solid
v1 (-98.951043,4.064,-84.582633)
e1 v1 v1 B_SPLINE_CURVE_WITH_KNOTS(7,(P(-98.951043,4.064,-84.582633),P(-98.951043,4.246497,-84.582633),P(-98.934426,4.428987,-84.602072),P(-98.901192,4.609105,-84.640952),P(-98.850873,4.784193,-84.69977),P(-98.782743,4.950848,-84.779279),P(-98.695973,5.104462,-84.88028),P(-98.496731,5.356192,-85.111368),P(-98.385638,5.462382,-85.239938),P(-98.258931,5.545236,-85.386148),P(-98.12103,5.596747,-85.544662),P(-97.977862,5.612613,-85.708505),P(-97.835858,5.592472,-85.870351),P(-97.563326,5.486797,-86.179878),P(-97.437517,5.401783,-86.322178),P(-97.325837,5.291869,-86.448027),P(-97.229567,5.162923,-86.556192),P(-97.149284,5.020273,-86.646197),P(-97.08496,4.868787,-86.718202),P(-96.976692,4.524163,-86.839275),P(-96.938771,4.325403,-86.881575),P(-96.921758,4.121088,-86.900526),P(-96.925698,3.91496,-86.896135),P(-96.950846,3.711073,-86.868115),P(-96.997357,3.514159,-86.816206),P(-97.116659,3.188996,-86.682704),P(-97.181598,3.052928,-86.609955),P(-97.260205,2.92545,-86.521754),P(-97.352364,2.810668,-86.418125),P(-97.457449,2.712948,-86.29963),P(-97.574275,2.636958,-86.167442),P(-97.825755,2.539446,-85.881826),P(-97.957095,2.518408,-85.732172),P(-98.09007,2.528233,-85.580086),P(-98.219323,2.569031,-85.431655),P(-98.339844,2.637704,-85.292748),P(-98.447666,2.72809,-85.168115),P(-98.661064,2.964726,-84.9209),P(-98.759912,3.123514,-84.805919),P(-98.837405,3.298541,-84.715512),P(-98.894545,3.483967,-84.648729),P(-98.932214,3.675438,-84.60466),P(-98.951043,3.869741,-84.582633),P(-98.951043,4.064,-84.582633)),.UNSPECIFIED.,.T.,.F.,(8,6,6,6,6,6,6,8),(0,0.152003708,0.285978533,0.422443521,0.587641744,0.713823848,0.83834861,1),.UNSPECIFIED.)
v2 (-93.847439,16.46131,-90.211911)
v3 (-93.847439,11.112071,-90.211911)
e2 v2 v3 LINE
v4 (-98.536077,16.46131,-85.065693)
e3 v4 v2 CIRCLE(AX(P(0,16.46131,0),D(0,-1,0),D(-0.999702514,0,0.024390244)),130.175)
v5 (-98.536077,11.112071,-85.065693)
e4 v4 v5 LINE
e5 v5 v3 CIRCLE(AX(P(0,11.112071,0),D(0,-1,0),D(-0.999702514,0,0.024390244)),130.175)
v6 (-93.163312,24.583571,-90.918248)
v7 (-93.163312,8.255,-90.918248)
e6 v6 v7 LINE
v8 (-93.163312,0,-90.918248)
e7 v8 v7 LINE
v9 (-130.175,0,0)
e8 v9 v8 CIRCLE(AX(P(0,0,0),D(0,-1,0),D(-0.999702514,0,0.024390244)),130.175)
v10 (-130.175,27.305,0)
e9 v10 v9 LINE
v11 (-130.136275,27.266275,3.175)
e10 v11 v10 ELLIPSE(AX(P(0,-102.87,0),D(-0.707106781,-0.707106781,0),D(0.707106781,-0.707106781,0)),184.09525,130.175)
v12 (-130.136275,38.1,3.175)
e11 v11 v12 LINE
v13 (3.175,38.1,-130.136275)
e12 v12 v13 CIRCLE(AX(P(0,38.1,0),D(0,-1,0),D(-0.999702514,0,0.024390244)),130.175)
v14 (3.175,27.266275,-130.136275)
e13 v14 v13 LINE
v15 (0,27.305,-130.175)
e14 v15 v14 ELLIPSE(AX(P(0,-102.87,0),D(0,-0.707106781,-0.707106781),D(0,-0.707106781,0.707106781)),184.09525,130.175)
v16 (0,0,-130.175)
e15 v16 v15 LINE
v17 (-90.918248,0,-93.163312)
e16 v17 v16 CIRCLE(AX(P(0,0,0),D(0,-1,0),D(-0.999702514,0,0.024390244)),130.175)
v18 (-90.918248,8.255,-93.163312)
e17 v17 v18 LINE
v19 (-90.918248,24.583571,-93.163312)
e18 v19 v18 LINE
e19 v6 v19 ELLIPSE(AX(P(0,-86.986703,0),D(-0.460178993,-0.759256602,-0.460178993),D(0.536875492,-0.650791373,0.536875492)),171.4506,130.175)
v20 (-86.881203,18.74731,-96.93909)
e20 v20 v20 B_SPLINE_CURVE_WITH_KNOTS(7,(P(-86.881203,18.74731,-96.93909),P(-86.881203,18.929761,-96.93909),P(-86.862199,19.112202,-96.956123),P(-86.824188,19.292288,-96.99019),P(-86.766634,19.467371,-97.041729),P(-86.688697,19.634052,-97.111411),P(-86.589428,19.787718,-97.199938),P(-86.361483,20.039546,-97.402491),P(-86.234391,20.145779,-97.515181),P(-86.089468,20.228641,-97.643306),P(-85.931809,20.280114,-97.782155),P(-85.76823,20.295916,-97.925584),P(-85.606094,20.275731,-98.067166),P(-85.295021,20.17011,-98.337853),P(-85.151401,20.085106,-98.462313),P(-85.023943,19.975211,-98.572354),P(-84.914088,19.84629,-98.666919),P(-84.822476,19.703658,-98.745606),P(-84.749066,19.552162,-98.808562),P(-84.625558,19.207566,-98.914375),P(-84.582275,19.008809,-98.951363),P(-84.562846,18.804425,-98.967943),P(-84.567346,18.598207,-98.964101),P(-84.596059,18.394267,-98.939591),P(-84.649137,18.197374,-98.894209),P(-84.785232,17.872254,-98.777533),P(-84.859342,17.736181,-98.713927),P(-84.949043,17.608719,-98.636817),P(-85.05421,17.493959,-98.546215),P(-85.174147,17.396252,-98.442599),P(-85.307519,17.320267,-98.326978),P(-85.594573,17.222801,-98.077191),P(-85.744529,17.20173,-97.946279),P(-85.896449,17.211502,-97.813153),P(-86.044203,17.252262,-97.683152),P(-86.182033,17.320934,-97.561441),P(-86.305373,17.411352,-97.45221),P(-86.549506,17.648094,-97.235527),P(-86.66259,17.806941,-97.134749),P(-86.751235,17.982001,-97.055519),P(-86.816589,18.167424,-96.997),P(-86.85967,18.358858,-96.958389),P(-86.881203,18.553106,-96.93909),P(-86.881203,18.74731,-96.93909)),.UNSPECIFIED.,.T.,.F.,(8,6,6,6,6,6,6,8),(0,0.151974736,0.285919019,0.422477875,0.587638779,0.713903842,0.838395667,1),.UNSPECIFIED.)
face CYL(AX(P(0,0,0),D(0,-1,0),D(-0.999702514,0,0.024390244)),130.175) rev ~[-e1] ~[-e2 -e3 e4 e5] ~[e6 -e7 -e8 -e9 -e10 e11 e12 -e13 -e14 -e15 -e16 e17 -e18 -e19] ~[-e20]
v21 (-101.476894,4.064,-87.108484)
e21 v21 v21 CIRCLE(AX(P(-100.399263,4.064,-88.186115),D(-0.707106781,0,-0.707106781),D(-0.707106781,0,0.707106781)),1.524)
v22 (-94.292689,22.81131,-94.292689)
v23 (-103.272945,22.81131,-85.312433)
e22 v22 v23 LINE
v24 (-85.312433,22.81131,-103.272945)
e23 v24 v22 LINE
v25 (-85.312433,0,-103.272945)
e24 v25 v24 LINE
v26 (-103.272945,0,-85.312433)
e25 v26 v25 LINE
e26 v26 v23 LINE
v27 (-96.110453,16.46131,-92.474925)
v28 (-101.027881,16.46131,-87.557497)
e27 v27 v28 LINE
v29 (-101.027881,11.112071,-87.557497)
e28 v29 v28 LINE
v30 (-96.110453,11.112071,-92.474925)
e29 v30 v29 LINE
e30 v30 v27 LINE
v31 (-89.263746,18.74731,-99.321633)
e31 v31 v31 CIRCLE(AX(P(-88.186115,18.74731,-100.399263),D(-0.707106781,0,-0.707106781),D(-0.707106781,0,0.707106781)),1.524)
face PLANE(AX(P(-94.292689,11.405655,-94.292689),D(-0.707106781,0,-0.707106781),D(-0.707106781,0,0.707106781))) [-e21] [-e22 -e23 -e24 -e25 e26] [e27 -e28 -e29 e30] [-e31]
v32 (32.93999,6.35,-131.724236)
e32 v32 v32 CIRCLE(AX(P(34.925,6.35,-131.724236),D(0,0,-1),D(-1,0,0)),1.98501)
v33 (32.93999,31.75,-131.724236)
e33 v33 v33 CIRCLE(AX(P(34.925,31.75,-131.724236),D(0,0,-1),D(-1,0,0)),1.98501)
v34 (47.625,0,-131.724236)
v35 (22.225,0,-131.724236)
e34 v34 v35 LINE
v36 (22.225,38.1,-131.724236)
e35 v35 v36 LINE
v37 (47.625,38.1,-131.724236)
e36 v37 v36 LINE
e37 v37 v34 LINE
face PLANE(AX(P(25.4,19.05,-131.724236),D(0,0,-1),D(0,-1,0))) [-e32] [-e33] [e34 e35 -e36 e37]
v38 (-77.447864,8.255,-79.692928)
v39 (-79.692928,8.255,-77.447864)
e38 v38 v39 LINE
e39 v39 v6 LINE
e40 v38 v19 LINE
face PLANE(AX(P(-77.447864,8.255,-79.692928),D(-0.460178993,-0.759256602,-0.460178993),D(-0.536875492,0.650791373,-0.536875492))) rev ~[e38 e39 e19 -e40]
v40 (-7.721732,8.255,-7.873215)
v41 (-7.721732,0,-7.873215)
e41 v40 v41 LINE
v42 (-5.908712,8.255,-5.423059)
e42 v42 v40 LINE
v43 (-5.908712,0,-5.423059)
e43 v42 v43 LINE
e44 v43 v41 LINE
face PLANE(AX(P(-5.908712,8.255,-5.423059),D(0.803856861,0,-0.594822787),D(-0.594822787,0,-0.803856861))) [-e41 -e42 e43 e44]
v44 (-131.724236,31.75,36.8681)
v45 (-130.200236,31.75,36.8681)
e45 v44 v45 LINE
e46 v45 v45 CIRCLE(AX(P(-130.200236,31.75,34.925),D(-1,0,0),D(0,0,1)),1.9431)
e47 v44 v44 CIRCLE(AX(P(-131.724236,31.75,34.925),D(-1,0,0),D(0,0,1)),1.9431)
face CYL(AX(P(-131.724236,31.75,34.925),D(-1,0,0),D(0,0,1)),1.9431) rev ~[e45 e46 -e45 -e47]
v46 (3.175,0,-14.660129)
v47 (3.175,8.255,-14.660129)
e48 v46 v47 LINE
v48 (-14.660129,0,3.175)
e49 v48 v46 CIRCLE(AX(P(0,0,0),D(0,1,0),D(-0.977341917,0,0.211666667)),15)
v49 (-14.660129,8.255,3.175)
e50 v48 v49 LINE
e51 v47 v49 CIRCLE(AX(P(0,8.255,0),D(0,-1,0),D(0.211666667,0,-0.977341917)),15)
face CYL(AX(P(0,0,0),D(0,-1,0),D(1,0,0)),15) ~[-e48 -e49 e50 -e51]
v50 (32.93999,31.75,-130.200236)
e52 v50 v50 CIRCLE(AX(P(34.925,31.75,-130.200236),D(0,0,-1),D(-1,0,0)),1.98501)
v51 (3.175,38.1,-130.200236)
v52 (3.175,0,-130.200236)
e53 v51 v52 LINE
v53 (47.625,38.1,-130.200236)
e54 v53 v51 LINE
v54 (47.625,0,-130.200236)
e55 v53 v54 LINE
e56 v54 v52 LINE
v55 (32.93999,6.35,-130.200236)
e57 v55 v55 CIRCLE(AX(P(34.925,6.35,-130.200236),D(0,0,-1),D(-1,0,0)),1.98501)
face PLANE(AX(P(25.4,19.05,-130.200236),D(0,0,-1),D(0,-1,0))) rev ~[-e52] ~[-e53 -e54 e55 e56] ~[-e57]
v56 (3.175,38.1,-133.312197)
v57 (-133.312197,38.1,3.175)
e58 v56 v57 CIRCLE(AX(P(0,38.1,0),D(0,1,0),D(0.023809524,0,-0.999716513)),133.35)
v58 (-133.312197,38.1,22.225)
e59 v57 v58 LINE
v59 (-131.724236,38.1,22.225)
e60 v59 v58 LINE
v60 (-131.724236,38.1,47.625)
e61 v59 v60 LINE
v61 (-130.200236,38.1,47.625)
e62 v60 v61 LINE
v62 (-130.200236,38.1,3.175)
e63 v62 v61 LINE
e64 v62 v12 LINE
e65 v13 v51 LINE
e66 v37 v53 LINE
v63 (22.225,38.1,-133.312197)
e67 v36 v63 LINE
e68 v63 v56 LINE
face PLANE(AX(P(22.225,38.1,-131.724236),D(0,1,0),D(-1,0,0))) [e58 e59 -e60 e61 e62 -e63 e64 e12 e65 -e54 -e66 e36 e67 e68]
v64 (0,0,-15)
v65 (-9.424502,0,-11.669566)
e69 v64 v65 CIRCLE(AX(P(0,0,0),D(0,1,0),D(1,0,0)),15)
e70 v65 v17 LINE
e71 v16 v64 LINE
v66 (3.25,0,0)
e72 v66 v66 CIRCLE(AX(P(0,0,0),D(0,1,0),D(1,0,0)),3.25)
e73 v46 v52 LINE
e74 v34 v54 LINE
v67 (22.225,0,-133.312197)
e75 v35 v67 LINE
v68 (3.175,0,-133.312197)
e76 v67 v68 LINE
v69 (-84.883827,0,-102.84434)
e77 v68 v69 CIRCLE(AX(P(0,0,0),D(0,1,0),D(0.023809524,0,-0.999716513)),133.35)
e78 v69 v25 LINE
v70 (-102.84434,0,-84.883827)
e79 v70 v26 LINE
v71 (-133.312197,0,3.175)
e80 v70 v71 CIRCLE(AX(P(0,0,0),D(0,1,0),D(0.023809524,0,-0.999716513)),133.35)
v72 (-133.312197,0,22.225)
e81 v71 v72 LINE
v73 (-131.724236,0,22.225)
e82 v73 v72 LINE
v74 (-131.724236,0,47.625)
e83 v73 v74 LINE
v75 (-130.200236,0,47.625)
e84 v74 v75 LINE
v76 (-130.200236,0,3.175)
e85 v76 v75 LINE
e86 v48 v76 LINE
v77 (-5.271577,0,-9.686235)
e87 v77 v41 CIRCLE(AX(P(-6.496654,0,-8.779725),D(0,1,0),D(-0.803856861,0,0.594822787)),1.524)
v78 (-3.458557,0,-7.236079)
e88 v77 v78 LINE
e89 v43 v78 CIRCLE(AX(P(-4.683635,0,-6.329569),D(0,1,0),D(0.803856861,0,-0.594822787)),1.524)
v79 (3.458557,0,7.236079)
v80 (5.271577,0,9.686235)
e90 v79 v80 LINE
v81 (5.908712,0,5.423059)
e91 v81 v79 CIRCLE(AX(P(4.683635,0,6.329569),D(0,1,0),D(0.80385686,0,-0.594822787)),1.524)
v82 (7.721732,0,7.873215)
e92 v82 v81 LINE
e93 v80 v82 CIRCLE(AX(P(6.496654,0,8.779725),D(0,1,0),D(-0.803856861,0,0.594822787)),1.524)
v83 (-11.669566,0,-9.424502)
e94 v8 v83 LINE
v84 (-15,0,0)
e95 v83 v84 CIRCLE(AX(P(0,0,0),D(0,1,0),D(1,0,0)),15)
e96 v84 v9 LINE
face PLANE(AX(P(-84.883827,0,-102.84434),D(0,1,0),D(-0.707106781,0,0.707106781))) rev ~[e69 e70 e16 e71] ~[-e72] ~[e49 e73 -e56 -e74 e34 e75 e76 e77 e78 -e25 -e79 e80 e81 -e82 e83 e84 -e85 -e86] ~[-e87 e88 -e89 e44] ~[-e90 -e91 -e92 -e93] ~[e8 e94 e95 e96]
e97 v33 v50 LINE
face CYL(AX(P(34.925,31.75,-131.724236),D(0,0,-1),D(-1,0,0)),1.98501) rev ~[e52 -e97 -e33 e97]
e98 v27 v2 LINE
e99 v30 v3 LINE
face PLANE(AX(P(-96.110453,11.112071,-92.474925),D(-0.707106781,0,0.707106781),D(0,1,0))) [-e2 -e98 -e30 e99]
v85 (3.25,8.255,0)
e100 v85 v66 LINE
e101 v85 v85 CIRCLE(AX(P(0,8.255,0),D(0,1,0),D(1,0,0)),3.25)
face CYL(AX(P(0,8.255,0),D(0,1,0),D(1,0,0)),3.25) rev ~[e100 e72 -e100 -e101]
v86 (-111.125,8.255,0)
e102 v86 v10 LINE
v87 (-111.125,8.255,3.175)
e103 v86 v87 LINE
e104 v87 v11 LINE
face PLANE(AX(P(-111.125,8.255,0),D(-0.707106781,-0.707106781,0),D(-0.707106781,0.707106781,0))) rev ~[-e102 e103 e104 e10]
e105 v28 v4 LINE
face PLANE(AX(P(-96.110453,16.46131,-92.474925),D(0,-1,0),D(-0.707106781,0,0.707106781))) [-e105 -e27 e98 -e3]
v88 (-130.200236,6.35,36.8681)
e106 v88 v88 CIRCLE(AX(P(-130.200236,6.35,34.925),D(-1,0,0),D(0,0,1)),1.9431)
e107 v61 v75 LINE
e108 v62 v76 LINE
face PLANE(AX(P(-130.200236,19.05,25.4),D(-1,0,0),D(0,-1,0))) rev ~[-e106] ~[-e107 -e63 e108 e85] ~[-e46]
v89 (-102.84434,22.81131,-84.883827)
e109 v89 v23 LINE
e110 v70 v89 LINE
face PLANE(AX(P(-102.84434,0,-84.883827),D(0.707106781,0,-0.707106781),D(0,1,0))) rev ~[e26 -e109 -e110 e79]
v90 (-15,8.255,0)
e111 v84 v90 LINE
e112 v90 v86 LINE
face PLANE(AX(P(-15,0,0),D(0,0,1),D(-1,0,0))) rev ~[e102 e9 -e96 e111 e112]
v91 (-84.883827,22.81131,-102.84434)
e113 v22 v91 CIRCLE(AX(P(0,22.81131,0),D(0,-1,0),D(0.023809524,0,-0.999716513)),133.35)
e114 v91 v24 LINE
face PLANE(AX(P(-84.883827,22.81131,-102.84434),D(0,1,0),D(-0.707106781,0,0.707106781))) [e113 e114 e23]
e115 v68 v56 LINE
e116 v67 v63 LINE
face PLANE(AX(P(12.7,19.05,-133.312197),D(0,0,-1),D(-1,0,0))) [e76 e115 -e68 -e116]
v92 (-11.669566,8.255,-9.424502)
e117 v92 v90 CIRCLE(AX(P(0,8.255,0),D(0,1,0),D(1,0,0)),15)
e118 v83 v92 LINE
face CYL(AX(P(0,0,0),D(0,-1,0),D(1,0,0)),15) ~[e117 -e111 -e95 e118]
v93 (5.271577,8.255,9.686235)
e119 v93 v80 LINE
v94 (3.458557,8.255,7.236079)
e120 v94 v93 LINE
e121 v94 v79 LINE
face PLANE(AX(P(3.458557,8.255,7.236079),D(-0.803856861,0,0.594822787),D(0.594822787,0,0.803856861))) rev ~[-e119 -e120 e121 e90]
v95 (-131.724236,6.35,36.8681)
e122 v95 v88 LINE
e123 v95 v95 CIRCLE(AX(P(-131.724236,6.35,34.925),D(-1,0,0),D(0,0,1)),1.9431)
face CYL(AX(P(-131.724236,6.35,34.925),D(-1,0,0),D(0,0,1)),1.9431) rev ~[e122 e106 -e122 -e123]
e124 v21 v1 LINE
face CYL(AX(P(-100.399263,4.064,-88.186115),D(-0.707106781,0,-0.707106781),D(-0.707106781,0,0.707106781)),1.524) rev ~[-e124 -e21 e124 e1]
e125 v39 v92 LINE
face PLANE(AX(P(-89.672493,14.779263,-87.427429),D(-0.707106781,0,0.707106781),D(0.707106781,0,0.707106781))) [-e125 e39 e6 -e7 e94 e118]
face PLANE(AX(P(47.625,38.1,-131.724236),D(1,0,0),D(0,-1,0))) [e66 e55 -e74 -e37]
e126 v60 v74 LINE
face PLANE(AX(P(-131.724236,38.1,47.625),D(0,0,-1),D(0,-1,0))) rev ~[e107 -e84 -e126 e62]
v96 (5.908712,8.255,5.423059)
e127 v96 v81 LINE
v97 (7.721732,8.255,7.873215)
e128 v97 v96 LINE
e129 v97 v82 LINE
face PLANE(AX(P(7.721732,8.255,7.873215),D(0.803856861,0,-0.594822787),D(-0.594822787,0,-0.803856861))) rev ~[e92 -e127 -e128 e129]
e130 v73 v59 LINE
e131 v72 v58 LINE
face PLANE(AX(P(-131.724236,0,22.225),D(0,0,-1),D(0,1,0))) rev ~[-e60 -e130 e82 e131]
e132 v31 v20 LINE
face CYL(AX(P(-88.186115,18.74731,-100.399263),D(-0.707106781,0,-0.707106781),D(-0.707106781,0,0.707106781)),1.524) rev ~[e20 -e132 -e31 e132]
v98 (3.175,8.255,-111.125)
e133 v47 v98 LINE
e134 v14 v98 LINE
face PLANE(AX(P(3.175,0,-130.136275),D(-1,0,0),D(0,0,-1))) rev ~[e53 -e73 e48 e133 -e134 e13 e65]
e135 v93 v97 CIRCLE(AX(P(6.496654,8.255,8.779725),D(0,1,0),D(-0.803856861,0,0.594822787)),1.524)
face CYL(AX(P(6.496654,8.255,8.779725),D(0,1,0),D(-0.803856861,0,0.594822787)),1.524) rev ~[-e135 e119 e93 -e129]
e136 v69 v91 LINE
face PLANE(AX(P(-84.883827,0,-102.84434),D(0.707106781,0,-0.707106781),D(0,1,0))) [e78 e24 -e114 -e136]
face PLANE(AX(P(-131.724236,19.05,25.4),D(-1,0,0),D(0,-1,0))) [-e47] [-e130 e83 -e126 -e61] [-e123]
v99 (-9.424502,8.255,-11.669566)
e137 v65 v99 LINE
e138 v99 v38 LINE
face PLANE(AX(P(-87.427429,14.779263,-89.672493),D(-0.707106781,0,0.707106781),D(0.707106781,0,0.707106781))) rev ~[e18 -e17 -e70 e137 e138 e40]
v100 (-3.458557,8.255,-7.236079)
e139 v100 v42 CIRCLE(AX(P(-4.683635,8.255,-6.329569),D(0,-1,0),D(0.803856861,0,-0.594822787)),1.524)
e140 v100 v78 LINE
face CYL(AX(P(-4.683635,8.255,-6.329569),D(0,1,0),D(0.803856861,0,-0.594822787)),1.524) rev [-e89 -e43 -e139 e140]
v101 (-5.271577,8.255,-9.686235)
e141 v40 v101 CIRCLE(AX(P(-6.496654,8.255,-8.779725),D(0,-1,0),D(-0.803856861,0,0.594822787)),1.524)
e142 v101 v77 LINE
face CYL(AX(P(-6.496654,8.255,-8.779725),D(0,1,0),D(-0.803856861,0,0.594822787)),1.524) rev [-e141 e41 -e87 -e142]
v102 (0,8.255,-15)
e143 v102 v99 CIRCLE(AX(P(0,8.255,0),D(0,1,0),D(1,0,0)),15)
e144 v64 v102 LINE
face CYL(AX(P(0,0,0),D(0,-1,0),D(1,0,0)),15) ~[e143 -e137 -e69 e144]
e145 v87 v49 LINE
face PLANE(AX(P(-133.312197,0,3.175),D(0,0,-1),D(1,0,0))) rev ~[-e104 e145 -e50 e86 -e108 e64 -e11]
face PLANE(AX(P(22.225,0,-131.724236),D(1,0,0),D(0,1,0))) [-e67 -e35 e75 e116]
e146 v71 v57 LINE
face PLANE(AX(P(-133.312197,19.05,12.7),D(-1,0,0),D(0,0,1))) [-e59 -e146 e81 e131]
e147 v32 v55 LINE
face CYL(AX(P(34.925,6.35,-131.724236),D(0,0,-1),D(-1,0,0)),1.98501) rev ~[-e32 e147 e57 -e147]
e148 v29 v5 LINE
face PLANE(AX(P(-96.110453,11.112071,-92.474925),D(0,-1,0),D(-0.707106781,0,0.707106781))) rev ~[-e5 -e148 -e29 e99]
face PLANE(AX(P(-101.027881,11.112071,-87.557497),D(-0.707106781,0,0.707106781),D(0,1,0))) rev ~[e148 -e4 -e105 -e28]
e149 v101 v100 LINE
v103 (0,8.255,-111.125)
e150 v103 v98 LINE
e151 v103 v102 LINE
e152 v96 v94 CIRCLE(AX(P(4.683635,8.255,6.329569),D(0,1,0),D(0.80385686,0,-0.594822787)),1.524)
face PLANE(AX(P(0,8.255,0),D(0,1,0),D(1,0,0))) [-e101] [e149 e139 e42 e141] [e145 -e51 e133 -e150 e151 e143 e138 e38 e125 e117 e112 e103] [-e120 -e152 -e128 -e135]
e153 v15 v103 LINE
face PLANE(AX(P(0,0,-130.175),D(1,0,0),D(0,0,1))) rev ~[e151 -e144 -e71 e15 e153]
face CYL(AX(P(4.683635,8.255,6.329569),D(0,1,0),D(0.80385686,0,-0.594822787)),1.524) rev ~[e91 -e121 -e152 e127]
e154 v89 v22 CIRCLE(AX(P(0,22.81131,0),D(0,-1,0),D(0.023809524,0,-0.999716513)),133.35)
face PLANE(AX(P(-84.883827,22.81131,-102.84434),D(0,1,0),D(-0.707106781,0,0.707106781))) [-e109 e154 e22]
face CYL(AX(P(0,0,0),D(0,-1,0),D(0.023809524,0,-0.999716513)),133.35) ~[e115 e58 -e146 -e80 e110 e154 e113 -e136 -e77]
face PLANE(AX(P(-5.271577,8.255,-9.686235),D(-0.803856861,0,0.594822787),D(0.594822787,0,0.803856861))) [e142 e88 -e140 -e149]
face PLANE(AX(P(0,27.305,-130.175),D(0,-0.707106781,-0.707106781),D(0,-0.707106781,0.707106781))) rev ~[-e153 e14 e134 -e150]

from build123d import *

# Parameters (mm, degrees)
SKETCH1_R            = 15
BOSS_EXTRUDE2_DEPTH  = 8.255
BOSS_EXTRUDE3_DEPTH  = 8.255
BOSS_EXTRUDE4_DEPTH  = 38.1
SKETCH5_R            = 3.249999977
CUT_EXTRUDE3_DEPTH   = 63.5
BOSS_EXTRUDE13_DEPTH = 3.175
BOSS_EXTRUDE14_DEPTH = 3.175
BOSS_EXTRUDE15_DEPTH = 3.175
CUT_EXTRUDE6_DEPTH   = 9.255
SKETCH20_W           = 38.1
SKETCH20_H           = 44.45
BOSS_EXTRUDE16_DEPTH = 1.524
SKETCH21_W           = 38.1
SKETCH21_H           = 44.45
BOSS_EXTRUDE17_DEPTH = 1.524
SKETCH23_R           = 1.9431
CUT_EXTRUDE7_DEPTH   = 2.54
SKETCH24_R           = 1.98501
CUT_EXTRUDE8_DEPTH   = 2.54
SKETCH25_W           = 19.05
SKETCH25_H           = 38.1
BOSS_EXTRUDE18_DEPTH = 1.587961
SKETCH26_W           = 19.05
SKETCH26_H           = 38.1
BOSS_EXTRUDE19_DEPTH = 1.587961
BOSS_EXTRUDE20_START = -0.60614
SKETCH27_W           = 25.4
SKETCH27_H           = 22.811309973
BOSS_EXTRUDE20_DEPTH = 0.60614
CUT_EXTRUDE9_REACH   = 202.702
SKETCH29_R           = 1.524
CUT_EXTRUDE10_REACH  = 202.702
SKETCH30_W           = 6.954293398
SKETCH30_H           = 5.349239075


with BuildPart() as part:
    # Sketch1 → Boss-Extrude2 (new body)
    with BuildSketch(Plane(origin=(0, 0, 0), x_dir=(1, 0, 0), z_dir=(0, 1, 0))):
        Circle(SKETCH1_R)
    extrude(amount=BOSS_EXTRUDE2_DEPTH)

    # Sketch1<6> → Boss-Extrude3 (add)
    with BuildSketch(Plane(origin=(0, 0, 0), x_dir=(1, 0, 0), z_dir=(0, 1, 0))):
        with BuildLine():
            ThreePointArc((3.175, 130.136274728), (1.587618078, 130.165318322), (0, 130.175))
            Line((0, 130.175), (0, 15))
            ThreePointArc((0, 15), (1.596569562, 14.914790164), (3.175, 14.660128751))
            Line((3.175, 14.660128751), (3.175, 130.136274728))
        make_face()
        with BuildLine():
            Line((-9.42450178, 11.66956581), (-90.918248264, 93.163312294))
            ThreePointArc((-90.918248264, 93.163312294), (-92.047625241, 92.047625241), (-93.163312294, 90.918248264))
            Line((-93.163312294, 90.918248264), (-11.66956581, 9.42450178))
            ThreePointArc((-11.66956581, 9.42450178), (-10.606601718, 10.606601718), (-9.42450178, 11.66956581))
        make_face()
        with BuildLine():
            Line((-15, 0), (-130.175, 0))
            ThreePointArc((-130.175, 0), (-130.165318322, -1.587618078), (-130.136274728, -3.175))
            Line((-130.136274728, -3.175), (-14.660128751, -3.175))
            ThreePointArc((-14.660128751, -3.175), (-14.914790164, -1.596569562), (-15, 0))
        make_face()
    extrude(amount=BOSS_EXTRUDE3_DEPTH)

    # Sketch1<7> → Boss-Extrude4 (add)
    with BuildSketch(Plane(origin=(0, 0, 0), x_dir=(1, 0, 0), z_dir=(0, 1, 0))):
        with BuildLine():
            Line((3.175, 130.136274728), (3.175, 133.312197023))
            ThreePointArc((3.175, 133.312197023), (-94.292689271, 94.292689271), (-133.312197023, -3.175))
            Line((-133.312197023, -3.175), (-130.136274728, -3.175))
            ThreePointArc((-130.136274728, -3.175), (-92.047625241, 92.047625241), (3.175, 130.136274728))
        make_face()
    extrude(amount=BOSS_EXTRUDE4_DEPTH)

    # Sketch5 → Cut-Extrude3 (cut)
    with BuildSketch(Plane(origin=(0, 8.255, 0), x_dir=(1, 0, 0), z_dir=(0, 1, 0))):
        Circle(SKETCH5_R)
    extrude(amount=-CUT_EXTRUDE3_DEPTH, mode=Mode.SUBTRACT)

    # Sketch14 → Boss-Extrude13 (add)
    with BuildSketch(Plane(origin=(0, 0, 0), x_dir=(-1, 0, 0), z_dir=(0, 0, -1))):
        Polygon((130.175, 8.255), (111.125, 8.255), (130.175, 27.305), align=None)
    extrude(amount=-BOSS_EXTRUDE13_DEPTH)

    # Sketch15 → Boss-Extrude14 (add)
    with BuildSketch(Plane.ZY):
        Polygon((-130.175, 8.255), (-130.175, 27.305), (-111.125, 8.255), align=None)
    extrude(amount=-BOSS_EXTRUDE14_DEPTH)

    # Sketch16 → Boss-Extrude15 (add)
    with BuildSketch(Plane(origin=(1.122532015, 0, -1.122532015), x_dir=(-0.707106781, 0, -0.707106781), z_dir=(0.707106781, 0, -0.707106781))):
        Polygon((133.340319762, 8.255), (111.115319762, 8.255), (133.340319762, 27.305), align=None)
    extrude(amount=-BOSS_EXTRUDE15_DEPTH)

    # Sketch17 → Cut-Extrude6 (cut, through all)
    with BuildSketch(Plane(origin=(0, 8.255, 0), x_dir=(1, 0, 0), z_dir=(0, 1, 0))):
        with BuildLine():
            Line((-5.908712478, 5.423058993), (-7.721732332, 7.873214705))
            ThreePointArc((-7.721732332, 7.873214705), (-7.403164404, 10.004802487), (-5.271576621, 9.686234559))
            Line((-5.271576621, 9.686234559), (-3.458556767, 7.236078848))
            ThreePointArc((-3.458556767, 7.236078848), (-3.777124696, 5.104491065), (-5.908712478, 5.423058993))
        make_face()
        with BuildLine():
            Line((3.458556767, -7.236078848), (5.271576621, -9.686234559))
            ThreePointArc((5.271576621, -9.686234559), (7.403164404, -10.004802487), (7.721732332, -7.873214705))
            Line((7.721732332, -7.873214705), (5.908712478, -5.423058993))
            ThreePointArc((5.908712478, -5.423058993), (3.777124696, -5.104491065), (3.458556767, -7.236078848))
        make_face()
    extrude(amount=-CUT_EXTRUDE6_DEPTH, mode=Mode.SUBTRACT)

    # Sketch20 → Boss-Extrude16 (add)
    with BuildSketch(Plane(origin=(0, 0, -131.724235875), x_dir=(0, -1, 0), z_dir=(0, 0, -1))):
        with Locations((-19.05, -25.4)):
            Rectangle(SKETCH20_W, SKETCH20_H)
    extrude(amount=-BOSS_EXTRUDE16_DEPTH)

    # Sketch21 → Boss-Extrude17 (add)
    with BuildSketch(Plane(origin=(-131.724235875, 0, 0), x_dir=(0, -1, 0), z_dir=(-1, 0, 0))):
        with Locations((-19.05, 25.4)):
            Rectangle(SKETCH21_W, SKETCH21_H)
    extrude(amount=-BOSS_EXTRUDE17_DEPTH)

    # Sketch23 → Cut-Extrude7 (cut)
    with BuildSketch(Plane.ZY.offset(131.724235875)):
        with Locations((34.925, 31.75)):
            Circle(SKETCH23_R)
        with Locations((34.925, 6.35)):
            Circle(SKETCH23_R)
    extrude(amount=-CUT_EXTRUDE7_DEPTH, mode=Mode.SUBTRACT)

    # Sketch24 → Cut-Extrude8 (cut)
    with BuildSketch(Plane(origin=(0, 0, -131.724235875), x_dir=(-1, 0, 0), z_dir=(0, 0, -1))):
        with Locations((-34.925, 31.75)):
            Circle(SKETCH24_R)
        with Locations((-34.925, 6.35)):
            Circle(SKETCH24_R)
    extrude(amount=-CUT_EXTRUDE8_DEPTH, mode=Mode.SUBTRACT)

    # Sketch25 → Boss-Extrude18 (add)
    with BuildSketch(Plane.ZY.offset(131.724235875)):
        with Locations((12.7, 19.05)):
            Rectangle(SKETCH25_W, SKETCH25_H)
    extrude(amount=BOSS_EXTRUDE18_DEPTH)

    # Sketch26 → Boss-Extrude19 (add)
    with BuildSketch(Plane(origin=(0, 0, -131.724235875), x_dir=(-1, 0, 0), z_dir=(0, 0, -1))):
        with Locations((-12.7, 19.05)):
            Rectangle(SKETCH26_W, SKETCH26_H)
    extrude(amount=BOSS_EXTRUDE19_DEPTH)

    # Sketch27 → Boss-Extrude20 (add)
    with BuildSketch(Plane(origin=(-94.292689271, 0, -94.292689271), x_dir=(-0.707106781, 0, 0.707106781), z_dir=(-0.707106781, 0, -0.707106781)).offset(BOSS_EXTRUDE20_START)):
        with Locations((0, 11.405654987)):
            Rectangle(SKETCH27_W, SKETCH27_H)
    extrude(amount=BOSS_EXTRUDE20_DEPTH)

    # Sketch29 → Cut-Extrude9 (cut, up to next)
    with BuildSketch(Plane(origin=(-94.292689271, 0, -94.292689271), x_dir=(-0.707106781, 0, 0.707106781), z_dir=(-0.707106781, 0, -0.707106781)), mode=Mode.PRIVATE) as cut_extrude9_sk1:
        with Locations((8.636, 4.064)):
            Circle(SKETCH29_R)
    cut_extrude9_tool1 = extrude(cut_extrude9_sk1.sketch, amount=-CUT_EXTRUDE9_REACH, mode=Mode.PRIVATE) & part.part
    add(cut_extrude9_tool1.solids().sort_by_distance((-100.399263, 4.064, -88.186115))[0], mode=Mode.SUBTRACT)
    # Sketch29 → Cut-Extrude9 (cut, up to next)
    with BuildSketch(Plane(origin=(-94.292689271, 0, -94.292689271), x_dir=(-0.707106781, 0, 0.707106781), z_dir=(-0.707106781, 0, -0.707106781)), mode=Mode.PRIVATE) as cut_extrude9_sk2:
        with Locations((-8.636, 18.747309973)):
            Circle(SKETCH29_R)
    cut_extrude9_tool2 = extrude(cut_extrude9_sk2.sketch, amount=-CUT_EXTRUDE9_REACH, mode=Mode.PRIVATE) & part.part
    add(cut_extrude9_tool2.solids().sort_by_distance((-88.186115, 18.74731, -100.399263))[0], mode=Mode.SUBTRACT)

    # Sketch30 → Cut-Extrude10 (cut, up to next)
    with BuildSketch(Plane(origin=(-94.292689271, 0, -94.292689271), x_dir=(-0.707106781, 0, 0.707106781), z_dir=(-0.707106781, 0, -0.707106781)), mode=Mode.PRIVATE) as cut_extrude10_sk1:
        with Locations((6.047853301, 13.786690436)):
            Rectangle(SKETCH30_W, SKETCH30_H)
    cut_extrude10_tool1 = extrude(cut_extrude10_sk1.sketch, amount=-CUT_EXTRUDE10_REACH, mode=Mode.PRIVATE) & part.part
    add(cut_extrude10_tool1.solids().sort_by_distance((-98.569167, 13.78669, -90.016211))[0], mode=Mode.SUBTRACT)


solid = part.part
